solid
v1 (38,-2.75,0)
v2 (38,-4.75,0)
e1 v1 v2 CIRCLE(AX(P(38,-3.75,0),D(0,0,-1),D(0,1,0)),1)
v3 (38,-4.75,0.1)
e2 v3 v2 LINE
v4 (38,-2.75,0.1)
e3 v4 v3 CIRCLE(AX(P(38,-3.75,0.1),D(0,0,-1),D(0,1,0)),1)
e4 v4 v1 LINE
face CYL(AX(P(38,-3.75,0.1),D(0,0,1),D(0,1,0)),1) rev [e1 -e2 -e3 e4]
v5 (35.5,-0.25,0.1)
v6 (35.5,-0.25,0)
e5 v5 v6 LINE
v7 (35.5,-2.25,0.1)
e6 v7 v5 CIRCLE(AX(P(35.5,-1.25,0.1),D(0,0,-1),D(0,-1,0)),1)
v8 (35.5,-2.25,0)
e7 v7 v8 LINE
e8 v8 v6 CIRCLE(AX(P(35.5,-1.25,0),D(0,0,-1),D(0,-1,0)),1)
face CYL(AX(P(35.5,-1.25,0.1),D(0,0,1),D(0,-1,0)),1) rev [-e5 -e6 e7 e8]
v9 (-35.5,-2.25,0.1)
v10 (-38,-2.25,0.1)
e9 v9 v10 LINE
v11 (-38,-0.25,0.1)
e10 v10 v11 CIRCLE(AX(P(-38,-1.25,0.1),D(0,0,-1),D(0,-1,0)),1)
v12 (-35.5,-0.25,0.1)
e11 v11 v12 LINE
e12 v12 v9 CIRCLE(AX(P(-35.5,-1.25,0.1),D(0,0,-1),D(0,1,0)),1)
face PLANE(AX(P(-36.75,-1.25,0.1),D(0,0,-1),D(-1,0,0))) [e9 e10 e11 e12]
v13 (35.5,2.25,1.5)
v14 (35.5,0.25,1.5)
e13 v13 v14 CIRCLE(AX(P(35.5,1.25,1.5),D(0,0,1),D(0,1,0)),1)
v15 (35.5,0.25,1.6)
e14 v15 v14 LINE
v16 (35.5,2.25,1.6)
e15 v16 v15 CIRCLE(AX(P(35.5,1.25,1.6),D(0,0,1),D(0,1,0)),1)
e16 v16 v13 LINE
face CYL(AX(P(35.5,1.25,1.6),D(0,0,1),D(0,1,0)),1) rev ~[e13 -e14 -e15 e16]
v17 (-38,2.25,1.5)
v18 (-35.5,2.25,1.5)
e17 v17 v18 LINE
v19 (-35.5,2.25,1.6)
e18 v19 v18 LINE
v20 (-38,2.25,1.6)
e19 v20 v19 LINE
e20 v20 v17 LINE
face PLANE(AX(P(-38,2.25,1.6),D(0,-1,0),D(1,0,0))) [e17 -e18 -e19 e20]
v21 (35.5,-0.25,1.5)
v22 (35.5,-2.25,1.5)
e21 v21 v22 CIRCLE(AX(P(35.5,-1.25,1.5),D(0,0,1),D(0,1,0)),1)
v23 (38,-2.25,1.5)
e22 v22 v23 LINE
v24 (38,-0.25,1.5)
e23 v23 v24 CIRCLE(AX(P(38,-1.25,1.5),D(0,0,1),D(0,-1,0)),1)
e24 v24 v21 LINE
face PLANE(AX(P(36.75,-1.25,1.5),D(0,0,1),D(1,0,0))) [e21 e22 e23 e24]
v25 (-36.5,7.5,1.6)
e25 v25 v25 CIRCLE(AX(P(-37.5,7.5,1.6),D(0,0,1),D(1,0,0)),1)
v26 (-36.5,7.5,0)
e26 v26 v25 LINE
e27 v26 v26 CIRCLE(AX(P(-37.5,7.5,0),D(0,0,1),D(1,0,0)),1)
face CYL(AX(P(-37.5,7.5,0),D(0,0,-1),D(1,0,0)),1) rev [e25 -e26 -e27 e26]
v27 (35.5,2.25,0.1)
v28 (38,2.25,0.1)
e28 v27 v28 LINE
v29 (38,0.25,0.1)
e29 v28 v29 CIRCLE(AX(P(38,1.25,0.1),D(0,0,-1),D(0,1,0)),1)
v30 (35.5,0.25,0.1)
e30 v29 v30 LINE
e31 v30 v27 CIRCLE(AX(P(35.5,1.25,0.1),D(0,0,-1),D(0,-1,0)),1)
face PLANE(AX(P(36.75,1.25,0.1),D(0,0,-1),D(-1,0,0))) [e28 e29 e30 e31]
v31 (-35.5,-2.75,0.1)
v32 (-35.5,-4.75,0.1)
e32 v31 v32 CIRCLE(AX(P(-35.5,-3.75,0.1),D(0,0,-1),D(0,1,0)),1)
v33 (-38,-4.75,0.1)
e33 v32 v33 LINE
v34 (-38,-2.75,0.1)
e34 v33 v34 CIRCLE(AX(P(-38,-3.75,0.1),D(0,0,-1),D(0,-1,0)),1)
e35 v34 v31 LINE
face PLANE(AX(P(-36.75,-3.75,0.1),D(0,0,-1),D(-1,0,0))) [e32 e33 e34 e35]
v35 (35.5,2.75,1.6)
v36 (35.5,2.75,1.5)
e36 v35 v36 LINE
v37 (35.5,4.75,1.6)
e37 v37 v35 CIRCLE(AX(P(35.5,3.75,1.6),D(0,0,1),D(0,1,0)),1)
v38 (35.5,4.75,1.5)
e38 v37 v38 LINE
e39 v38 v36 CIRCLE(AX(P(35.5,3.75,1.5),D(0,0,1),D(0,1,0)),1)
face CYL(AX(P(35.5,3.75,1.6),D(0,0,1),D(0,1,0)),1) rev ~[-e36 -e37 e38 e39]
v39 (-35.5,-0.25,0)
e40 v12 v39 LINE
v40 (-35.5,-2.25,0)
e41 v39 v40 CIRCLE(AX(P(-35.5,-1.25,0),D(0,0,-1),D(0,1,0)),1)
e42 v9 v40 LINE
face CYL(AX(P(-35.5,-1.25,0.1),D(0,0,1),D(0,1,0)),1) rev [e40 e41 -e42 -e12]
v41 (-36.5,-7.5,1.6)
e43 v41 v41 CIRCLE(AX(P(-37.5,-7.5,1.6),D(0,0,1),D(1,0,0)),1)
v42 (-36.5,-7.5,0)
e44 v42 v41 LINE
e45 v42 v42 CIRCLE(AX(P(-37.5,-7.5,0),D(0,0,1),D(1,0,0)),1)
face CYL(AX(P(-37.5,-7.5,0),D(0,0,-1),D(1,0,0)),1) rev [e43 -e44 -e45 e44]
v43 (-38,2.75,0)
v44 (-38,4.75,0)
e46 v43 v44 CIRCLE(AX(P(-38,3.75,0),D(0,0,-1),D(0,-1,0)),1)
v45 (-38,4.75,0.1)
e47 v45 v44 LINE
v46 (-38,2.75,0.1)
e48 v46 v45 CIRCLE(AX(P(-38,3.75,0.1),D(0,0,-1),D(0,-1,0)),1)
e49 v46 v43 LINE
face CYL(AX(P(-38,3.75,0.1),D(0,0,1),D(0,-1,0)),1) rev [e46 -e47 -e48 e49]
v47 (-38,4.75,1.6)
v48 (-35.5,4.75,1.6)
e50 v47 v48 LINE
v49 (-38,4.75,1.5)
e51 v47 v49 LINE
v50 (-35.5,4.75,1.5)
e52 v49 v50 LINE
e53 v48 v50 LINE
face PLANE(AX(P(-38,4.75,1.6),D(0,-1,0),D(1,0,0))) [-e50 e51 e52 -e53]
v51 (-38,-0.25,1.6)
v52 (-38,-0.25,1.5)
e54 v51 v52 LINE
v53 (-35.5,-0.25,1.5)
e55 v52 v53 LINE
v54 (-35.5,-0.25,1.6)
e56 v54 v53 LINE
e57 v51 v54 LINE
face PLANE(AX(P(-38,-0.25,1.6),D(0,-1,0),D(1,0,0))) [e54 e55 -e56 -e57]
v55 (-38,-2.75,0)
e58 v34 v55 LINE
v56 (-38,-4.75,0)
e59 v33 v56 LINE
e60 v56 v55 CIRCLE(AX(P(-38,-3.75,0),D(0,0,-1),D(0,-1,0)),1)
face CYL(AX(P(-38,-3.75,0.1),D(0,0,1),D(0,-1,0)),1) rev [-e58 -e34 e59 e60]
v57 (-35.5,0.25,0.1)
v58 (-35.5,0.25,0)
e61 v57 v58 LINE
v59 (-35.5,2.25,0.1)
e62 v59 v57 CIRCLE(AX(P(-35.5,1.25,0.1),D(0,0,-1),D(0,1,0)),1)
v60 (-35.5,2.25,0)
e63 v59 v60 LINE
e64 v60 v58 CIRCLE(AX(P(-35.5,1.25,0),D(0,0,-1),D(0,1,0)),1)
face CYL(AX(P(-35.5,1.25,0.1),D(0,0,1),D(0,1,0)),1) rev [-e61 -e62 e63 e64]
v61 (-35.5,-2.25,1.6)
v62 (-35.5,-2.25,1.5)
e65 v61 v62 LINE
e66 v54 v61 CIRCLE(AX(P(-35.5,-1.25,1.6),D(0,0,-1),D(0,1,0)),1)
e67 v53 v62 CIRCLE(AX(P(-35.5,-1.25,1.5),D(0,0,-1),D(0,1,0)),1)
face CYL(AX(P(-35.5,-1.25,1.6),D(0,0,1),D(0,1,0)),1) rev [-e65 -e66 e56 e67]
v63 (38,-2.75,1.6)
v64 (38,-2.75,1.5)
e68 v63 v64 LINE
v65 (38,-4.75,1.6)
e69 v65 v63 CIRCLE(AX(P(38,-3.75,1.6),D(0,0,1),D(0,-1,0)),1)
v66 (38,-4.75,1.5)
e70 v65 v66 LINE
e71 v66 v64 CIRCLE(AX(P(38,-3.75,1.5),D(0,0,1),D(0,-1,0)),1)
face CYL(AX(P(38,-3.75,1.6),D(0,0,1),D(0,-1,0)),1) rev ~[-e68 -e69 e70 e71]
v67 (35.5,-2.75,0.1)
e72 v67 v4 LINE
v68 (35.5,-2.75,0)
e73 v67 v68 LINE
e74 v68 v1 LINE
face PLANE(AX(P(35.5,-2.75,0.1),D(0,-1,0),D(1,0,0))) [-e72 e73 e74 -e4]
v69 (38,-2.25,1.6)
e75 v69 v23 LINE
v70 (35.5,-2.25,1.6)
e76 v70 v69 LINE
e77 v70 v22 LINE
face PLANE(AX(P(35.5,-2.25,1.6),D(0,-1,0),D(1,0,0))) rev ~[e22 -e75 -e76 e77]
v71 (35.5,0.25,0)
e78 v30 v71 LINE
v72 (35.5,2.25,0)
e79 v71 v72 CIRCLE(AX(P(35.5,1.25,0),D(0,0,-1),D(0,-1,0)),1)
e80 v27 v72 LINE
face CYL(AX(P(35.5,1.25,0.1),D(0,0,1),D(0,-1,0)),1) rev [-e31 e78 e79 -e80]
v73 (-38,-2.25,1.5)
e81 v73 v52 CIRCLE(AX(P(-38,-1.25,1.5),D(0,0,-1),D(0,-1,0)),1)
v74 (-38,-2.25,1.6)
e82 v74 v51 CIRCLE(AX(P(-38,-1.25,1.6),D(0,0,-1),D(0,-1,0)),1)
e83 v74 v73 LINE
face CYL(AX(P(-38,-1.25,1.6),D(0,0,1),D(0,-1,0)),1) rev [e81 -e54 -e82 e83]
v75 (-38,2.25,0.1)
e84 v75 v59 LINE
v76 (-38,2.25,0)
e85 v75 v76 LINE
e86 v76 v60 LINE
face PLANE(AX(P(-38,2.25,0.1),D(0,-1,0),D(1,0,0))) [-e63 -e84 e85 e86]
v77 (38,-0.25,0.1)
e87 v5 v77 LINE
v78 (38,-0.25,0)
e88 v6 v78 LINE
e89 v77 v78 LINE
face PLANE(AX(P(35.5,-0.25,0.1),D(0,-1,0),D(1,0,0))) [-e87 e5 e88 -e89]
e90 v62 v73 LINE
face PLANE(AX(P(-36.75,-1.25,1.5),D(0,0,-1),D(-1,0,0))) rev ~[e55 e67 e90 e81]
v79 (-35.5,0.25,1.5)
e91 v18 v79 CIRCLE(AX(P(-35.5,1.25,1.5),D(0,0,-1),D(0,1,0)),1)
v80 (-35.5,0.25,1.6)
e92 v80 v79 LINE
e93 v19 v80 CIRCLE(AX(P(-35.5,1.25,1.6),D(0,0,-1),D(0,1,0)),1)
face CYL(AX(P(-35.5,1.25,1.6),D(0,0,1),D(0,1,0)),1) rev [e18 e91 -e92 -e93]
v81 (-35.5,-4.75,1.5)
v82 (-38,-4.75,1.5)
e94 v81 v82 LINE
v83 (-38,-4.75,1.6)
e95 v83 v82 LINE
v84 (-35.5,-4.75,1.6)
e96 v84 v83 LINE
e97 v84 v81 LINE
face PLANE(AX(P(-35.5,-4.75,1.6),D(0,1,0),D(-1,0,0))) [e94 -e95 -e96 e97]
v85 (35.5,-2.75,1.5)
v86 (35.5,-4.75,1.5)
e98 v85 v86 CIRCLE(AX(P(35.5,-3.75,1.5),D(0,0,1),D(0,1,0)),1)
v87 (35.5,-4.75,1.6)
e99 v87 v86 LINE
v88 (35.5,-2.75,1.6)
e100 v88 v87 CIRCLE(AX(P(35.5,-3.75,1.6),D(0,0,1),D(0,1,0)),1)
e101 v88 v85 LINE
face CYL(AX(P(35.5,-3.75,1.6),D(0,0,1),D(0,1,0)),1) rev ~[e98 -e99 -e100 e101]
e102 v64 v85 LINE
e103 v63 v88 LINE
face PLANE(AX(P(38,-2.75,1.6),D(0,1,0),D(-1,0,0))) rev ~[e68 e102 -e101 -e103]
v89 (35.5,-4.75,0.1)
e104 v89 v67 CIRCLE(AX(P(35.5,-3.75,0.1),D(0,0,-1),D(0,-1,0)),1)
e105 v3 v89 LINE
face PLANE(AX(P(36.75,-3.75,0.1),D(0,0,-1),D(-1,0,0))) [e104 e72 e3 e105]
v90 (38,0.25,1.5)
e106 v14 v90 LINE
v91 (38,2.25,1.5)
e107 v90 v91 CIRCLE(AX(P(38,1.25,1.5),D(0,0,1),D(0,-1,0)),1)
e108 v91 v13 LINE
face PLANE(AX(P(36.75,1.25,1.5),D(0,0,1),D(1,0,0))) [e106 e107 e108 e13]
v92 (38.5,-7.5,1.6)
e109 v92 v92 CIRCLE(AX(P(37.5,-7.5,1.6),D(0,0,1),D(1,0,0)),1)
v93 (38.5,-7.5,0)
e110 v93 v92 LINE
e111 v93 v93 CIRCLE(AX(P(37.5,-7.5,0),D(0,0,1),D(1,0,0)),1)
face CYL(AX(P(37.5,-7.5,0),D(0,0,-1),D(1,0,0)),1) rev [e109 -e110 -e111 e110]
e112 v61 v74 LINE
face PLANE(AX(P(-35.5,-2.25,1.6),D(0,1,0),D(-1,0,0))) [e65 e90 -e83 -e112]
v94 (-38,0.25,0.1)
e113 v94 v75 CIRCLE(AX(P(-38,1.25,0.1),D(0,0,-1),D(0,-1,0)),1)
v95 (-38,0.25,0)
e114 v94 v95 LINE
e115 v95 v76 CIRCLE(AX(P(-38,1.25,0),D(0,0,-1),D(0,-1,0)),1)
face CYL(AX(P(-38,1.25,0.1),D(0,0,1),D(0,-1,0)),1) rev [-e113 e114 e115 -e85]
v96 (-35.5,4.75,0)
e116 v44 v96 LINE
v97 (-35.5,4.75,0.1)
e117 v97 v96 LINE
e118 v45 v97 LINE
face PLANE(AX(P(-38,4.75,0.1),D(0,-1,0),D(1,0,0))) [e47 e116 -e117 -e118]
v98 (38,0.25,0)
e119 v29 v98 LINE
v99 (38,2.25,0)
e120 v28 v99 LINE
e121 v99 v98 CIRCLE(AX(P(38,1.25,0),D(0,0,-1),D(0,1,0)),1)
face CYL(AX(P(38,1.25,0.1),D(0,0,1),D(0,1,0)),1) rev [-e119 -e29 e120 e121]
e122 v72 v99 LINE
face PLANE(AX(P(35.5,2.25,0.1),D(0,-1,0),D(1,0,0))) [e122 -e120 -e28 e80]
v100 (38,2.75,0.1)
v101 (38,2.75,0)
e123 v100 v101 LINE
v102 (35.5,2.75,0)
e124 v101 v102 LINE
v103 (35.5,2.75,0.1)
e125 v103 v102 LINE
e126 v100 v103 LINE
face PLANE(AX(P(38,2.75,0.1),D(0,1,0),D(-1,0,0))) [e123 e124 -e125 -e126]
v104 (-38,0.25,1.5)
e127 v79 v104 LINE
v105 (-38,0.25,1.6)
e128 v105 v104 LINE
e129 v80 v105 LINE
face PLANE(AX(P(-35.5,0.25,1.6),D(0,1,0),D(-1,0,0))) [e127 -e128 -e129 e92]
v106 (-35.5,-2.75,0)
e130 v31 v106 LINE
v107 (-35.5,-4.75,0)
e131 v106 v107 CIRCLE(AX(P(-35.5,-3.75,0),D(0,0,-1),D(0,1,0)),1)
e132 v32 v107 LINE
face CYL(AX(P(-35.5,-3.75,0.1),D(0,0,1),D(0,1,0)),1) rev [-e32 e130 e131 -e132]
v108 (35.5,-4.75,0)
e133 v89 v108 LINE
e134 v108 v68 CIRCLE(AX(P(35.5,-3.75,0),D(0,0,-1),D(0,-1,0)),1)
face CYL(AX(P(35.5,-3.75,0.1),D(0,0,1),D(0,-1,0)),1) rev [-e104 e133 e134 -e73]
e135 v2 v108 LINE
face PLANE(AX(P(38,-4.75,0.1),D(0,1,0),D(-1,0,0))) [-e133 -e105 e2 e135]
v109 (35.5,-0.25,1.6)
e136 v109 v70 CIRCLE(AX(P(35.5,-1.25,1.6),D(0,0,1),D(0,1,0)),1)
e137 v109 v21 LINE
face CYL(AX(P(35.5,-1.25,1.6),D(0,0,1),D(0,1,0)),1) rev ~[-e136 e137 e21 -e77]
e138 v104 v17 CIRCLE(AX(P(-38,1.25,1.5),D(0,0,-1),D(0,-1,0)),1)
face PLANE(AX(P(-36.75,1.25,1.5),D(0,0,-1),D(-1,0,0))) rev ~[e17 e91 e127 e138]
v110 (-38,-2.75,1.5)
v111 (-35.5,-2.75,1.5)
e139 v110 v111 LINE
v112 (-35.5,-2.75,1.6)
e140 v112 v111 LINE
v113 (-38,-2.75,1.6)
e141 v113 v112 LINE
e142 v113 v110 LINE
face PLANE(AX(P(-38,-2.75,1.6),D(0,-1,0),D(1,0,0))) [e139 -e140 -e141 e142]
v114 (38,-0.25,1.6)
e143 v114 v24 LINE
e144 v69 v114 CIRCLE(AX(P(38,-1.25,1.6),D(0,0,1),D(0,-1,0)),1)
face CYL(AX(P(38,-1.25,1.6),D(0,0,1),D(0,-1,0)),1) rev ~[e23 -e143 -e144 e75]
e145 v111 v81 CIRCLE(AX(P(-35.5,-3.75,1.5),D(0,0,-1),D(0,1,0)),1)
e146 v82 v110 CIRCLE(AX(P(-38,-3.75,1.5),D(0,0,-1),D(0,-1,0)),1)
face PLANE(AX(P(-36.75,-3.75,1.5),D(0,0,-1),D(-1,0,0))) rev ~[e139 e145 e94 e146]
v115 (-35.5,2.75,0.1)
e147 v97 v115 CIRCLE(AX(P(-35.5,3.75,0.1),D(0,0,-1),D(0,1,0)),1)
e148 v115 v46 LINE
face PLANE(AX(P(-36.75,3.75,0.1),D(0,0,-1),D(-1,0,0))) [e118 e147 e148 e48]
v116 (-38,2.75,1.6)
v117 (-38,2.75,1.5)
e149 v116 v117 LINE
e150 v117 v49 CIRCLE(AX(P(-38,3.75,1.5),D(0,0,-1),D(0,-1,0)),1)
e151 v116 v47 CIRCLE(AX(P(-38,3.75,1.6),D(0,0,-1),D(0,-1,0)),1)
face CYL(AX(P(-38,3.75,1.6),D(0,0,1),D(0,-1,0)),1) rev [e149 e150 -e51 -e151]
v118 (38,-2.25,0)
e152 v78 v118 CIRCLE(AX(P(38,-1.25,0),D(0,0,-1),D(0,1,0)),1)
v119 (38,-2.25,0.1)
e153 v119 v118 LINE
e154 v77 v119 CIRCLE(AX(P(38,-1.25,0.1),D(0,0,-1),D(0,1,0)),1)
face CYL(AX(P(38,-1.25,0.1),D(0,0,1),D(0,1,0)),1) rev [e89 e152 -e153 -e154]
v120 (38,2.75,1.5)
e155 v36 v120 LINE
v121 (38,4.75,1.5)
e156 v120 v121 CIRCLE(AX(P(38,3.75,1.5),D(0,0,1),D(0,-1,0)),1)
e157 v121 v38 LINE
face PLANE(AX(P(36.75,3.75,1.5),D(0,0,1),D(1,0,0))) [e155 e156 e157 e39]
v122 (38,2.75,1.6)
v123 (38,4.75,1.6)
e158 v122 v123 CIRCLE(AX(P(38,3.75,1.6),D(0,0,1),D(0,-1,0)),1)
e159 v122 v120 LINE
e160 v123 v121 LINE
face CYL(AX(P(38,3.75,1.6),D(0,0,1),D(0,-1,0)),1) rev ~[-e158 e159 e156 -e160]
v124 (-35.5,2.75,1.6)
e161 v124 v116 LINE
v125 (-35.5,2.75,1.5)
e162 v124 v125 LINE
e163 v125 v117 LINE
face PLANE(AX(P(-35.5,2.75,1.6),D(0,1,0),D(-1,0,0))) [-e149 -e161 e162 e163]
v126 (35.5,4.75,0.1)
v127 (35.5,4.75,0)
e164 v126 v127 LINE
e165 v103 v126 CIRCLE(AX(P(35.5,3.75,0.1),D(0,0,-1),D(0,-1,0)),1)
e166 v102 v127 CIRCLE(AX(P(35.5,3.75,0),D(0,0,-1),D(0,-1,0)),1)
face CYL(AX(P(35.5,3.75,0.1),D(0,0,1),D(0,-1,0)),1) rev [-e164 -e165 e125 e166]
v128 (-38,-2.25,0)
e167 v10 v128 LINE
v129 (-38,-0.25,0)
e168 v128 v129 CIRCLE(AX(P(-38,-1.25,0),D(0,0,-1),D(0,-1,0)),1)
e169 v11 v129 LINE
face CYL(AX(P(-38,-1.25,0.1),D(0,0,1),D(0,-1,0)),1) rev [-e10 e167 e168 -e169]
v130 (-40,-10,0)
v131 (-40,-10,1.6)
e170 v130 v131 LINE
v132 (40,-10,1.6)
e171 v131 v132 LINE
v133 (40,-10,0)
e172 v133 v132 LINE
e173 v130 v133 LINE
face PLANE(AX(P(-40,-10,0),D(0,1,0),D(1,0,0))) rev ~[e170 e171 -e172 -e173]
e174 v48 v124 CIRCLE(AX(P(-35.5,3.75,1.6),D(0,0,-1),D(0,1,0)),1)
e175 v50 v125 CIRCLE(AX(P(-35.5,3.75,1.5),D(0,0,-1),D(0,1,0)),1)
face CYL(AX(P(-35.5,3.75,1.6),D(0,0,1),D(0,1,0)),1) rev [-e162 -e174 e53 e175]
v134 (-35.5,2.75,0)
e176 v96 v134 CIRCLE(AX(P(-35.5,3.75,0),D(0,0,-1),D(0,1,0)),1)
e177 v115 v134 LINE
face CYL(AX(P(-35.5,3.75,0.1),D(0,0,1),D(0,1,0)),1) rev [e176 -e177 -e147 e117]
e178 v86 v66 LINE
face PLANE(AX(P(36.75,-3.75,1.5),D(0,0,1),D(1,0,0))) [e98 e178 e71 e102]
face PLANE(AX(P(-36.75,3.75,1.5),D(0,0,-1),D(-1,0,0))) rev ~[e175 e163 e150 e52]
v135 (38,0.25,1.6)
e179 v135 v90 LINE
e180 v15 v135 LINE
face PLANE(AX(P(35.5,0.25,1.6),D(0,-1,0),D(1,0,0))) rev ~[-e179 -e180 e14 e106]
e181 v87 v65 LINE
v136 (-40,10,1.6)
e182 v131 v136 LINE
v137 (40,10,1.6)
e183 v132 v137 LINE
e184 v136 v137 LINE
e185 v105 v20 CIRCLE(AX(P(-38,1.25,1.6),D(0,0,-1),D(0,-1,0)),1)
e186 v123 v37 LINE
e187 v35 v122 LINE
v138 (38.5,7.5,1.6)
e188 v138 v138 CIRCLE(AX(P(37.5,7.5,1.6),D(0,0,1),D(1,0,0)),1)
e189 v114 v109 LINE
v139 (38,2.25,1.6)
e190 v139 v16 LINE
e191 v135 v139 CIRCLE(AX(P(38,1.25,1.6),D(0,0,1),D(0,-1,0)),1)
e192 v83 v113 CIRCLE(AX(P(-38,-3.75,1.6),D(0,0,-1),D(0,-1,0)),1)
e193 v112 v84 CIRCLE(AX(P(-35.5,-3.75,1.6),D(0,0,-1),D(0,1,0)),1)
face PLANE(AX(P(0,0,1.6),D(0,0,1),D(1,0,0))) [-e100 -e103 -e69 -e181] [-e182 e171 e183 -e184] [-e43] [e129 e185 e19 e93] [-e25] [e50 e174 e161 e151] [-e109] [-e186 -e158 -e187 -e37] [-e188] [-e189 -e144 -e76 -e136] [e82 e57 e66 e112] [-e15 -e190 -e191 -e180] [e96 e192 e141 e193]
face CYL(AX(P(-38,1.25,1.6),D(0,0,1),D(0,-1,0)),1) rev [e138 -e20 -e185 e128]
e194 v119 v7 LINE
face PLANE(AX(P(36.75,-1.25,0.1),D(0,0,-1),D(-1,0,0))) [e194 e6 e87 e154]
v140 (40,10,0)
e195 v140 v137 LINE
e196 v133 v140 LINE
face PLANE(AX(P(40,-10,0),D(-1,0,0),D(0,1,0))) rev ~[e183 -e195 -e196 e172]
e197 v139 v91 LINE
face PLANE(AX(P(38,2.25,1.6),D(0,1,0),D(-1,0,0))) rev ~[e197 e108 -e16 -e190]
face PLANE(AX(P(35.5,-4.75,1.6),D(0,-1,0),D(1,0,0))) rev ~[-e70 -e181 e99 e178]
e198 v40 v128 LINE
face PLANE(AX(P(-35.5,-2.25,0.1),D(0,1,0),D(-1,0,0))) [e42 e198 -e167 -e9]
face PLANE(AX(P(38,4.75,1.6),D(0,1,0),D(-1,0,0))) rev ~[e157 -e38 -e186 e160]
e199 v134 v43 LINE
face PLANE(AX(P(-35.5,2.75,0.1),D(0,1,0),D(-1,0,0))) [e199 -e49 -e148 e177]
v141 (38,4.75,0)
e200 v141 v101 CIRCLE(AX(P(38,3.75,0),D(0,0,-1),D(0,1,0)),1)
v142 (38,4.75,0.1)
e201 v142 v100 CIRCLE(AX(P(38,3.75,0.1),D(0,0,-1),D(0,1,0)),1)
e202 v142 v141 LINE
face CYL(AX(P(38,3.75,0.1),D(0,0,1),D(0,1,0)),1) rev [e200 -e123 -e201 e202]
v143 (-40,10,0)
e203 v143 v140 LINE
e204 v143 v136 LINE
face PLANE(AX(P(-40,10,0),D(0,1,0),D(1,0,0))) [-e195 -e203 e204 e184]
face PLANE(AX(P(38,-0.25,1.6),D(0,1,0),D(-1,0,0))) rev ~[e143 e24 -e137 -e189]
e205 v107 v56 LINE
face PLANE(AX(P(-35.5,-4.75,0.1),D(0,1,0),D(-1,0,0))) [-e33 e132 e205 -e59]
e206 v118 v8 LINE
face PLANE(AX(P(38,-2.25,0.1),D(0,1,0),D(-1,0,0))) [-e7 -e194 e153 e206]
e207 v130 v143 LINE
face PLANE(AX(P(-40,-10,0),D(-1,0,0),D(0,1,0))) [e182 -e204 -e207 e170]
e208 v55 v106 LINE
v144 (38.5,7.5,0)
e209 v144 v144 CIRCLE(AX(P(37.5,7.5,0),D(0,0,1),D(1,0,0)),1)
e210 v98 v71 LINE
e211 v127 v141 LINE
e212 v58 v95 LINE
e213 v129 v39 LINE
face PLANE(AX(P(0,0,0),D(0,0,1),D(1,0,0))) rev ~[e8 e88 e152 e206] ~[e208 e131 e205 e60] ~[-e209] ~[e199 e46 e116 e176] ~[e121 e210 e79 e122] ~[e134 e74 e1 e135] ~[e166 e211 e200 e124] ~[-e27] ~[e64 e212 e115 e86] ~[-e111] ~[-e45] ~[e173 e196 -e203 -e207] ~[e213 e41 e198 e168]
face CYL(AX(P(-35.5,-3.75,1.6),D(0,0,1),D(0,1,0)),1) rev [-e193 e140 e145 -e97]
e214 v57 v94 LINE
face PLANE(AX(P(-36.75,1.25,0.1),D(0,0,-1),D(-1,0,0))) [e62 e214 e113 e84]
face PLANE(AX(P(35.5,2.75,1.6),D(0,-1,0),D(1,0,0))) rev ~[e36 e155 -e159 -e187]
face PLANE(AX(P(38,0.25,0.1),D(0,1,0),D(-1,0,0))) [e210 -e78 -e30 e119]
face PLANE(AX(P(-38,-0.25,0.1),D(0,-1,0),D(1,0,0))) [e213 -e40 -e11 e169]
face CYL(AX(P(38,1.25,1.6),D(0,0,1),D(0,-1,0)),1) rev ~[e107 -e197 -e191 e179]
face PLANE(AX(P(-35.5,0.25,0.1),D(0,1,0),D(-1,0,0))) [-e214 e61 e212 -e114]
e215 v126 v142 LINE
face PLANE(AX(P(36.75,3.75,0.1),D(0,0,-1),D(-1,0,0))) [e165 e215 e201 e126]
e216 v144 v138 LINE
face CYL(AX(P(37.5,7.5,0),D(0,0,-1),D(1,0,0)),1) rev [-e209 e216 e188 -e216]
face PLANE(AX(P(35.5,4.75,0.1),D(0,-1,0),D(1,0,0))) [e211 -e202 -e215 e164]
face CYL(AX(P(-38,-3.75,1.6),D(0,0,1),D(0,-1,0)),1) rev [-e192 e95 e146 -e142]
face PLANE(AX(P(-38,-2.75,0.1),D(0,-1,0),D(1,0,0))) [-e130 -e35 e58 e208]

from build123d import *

# Parameters (mm, degrees)
SKETCH_1_W          = 80
SKETCH_1_H          = 20
SKETCH_1_R          = 1
EXTRUDE_1_DEPTH     = 1.6
CUT_EXTRUDE_1_DEPTH = 0.1
CUT_EXTRUDE_START   = -0.1
CUT_EXTRUDE_2_DEPTH = 0.1


with BuildPart() as part:
    # Эскиз1 → Бобышка-Вытянуть1 (new body)
    with BuildSketch(Plane.XY):
        Rectangle(SKETCH_1_W, SKETCH_1_H)
        with Locations((-37.5, 7.5)):
            Circle(SKETCH_1_R, mode=Mode.SUBTRACT)
        with Locations((-37.5, -7.5)):
            Circle(SKETCH_1_R, mode=Mode.SUBTRACT)
        with Locations((37.5, -7.5)):
            Circle(SKETCH_1_R, mode=Mode.SUBTRACT)
        with Locations((37.5, 7.5)):
            Circle(SKETCH_1_R, mode=Mode.SUBTRACT)
    extrude(amount=EXTRUDE_1_DEPTH)

    # Эскиз2 → Вырез-Вытянуть1 (cut)
    with BuildSketch(Plane.XY.offset(1.6)):
        with BuildLine():
            Line((-38, -2.75), (-35.5, -2.75))
            ThreePointArc((-35.5, -2.75), (-34.5, -3.75), (-35.5, -4.75))
            Line((-35.5, -4.75), (-38, -4.75))
            ThreePointArc((-38, -4.75), (-39, -3.75), (-38, -2.75))
        make_face()
        with BuildLine():
            Line((-38, -0.25), (-35.5, -0.25))
            ThreePointArc((-35.5, -0.25), (-34.5, -1.25), (-35.5, -2.25))
            Line((-35.5, -2.25), (-38, -2.25))
            ThreePointArc((-38, -2.25), (-39, -1.25), (-38, -0.25))
        make_face()
        with BuildLine():
            Line((-38, 2.25), (-35.5, 2.25))
            ThreePointArc((-35.5, 2.25), (-34.5, 1.25), (-35.5, 0.25))
            Line((-35.5, 0.25), (-38, 0.25))
            ThreePointArc((-38, 0.25), (-39, 1.25), (-38, 2.25))
        make_face()
        with BuildLine():
            Line((38, -2.75), (35.5, -2.75))
            ThreePointArc((35.5, -2.75), (34.5, -3.75), (35.5, -4.75))
            Line((35.5, -4.75), (38, -4.75))
            ThreePointArc((38, -4.75), (39, -3.75), (38, -2.75))
        make_face()
        with BuildLine():
            Line((-38, 4.75), (-35.5, 4.75))
            ThreePointArc((-35.5, 4.75), (-34.5, 3.75), (-35.5, 2.75))
            Line((-35.5, 2.75), (-38, 2.75))
            ThreePointArc((-38, 2.75), (-39, 3.75), (-38, 4.75))
        make_face()
        with BuildLine():
            Line((38, -0.25), (35.5, -0.25))
            ThreePointArc((35.5, -0.25), (34.5, -1.25), (35.5, -2.25))
            Line((35.5, -2.25), (38, -2.25))
            ThreePointArc((38, -2.25), (39, -1.25), (38, -0.25))
        make_face()
        with BuildLine():
            Line((38, 2.25), (35.5, 2.25))
            ThreePointArc((35.5, 2.25), (34.5, 1.25), (35.5, 0.25))
            Line((35.5, 0.25), (38, 0.25))
            ThreePointArc((38, 0.25), (39, 1.25), (38, 2.25))
        make_face()
        with BuildLine():
            Line((38, 4.75), (35.5, 4.75))
            ThreePointArc((35.5, 4.75), (34.5, 3.75), (35.5, 2.75))
            Line((35.5, 2.75), (38, 2.75))
            ThreePointArc((38, 2.75), (39, 3.75), (38, 4.75))
        make_face()
    extrude(amount=-CUT_EXTRUDE_1_DEPTH, mode=Mode.SUBTRACT)

    # Эскиз3 → Вырез-Вытянуть2 (cut)
    with BuildSketch(Plane(origin=(0, 0, 0), x_dir=(-1, 0, 0), z_dir=(0, 0, -1)).offset(CUT_EXTRUDE_START)):
        with BuildLine():
            Line((38, -0.25), (35.5, -0.25))
            ThreePointArc((35.5, -0.25), (34.5, -1.25), (35.5, -2.25))
            Line((35.5, -2.25), (38, -2.25))
            ThreePointArc((38, -2.25), (39, -1.25), (38, -0.25))
        make_face()
        with BuildLine():
            Line((38, -2.75), (35.5, -2.75))
            ThreePointArc((35.5, -2.75), (34.5, -3.75), (35.5, -4.75))
            Line((35.5, -4.75), (38, -4.75))
            ThreePointArc((38, -4.75), (39, -3.75), (38, -2.75))
        make_face()
        with BuildLine():
            Line((38, 2.25), (35.5, 2.25))
            ThreePointArc((35.5, 2.25), (34.5, 1.25), (35.5, 0.25))
            Line((35.5, 0.25), (38, 0.25))
            ThreePointArc((38, 0.25), (39, 1.25), (38, 2.25))
        make_face()
        with BuildLine():
            Line((-35.5, -0.25), (-38, -0.25))
            ThreePointArc((-38, -0.25), (-39, -1.25), (-38, -2.25))
            Line((-38, -2.25), (-35.5, -2.25))
            ThreePointArc((-35.5, -2.25), (-34.5, -1.25), (-35.5, -0.25))
        make_face()
        with BuildLine():
            Line((-35.5, -2.75), (-38, -2.75))
            ThreePointArc((-38, -2.75), (-39, -3.75), (-38, -4.75))
            Line((-38, -4.75), (-35.5, -4.75))
            ThreePointArc((-35.5, -4.75), (-34.5, -3.75), (-35.5, -2.75))
        make_face()
        with BuildLine():
            Line((-35.5, 2.25), (-38, 2.25))
            ThreePointArc((-38, 2.25), (-39, 1.25), (-38, 0.25))
            Line((-38, 0.25), (-35.5, 0.25))
            ThreePointArc((-35.5, 0.25), (-34.5, 1.25), (-35.5, 2.25))
        make_face()
        with BuildLine():
            Line((38, 4.75), (35.5, 4.75))
            ThreePointArc((35.5, 4.75), (34.5, 3.75), (35.5, 2.75))
            Line((35.5, 2.75), (38, 2.75))
            ThreePointArc((38, 2.75), (39, 3.75), (38, 4.75))
        make_face()
        with BuildLine():
            Line((-35.5, 4.75), (-38, 4.75))
            ThreePointArc((-38, 4.75), (-39, 3.75), (-38, 2.75))
            Line((-38, 2.75), (-35.5, 2.75))
            ThreePointArc((-35.5, 2.75), (-34.5, 3.75), (-35.5, 4.75))
        make_face()
    extrude(amount=CUT_EXTRUDE_2_DEPTH, mode=Mode.SUBTRACT)


solid = part.part
